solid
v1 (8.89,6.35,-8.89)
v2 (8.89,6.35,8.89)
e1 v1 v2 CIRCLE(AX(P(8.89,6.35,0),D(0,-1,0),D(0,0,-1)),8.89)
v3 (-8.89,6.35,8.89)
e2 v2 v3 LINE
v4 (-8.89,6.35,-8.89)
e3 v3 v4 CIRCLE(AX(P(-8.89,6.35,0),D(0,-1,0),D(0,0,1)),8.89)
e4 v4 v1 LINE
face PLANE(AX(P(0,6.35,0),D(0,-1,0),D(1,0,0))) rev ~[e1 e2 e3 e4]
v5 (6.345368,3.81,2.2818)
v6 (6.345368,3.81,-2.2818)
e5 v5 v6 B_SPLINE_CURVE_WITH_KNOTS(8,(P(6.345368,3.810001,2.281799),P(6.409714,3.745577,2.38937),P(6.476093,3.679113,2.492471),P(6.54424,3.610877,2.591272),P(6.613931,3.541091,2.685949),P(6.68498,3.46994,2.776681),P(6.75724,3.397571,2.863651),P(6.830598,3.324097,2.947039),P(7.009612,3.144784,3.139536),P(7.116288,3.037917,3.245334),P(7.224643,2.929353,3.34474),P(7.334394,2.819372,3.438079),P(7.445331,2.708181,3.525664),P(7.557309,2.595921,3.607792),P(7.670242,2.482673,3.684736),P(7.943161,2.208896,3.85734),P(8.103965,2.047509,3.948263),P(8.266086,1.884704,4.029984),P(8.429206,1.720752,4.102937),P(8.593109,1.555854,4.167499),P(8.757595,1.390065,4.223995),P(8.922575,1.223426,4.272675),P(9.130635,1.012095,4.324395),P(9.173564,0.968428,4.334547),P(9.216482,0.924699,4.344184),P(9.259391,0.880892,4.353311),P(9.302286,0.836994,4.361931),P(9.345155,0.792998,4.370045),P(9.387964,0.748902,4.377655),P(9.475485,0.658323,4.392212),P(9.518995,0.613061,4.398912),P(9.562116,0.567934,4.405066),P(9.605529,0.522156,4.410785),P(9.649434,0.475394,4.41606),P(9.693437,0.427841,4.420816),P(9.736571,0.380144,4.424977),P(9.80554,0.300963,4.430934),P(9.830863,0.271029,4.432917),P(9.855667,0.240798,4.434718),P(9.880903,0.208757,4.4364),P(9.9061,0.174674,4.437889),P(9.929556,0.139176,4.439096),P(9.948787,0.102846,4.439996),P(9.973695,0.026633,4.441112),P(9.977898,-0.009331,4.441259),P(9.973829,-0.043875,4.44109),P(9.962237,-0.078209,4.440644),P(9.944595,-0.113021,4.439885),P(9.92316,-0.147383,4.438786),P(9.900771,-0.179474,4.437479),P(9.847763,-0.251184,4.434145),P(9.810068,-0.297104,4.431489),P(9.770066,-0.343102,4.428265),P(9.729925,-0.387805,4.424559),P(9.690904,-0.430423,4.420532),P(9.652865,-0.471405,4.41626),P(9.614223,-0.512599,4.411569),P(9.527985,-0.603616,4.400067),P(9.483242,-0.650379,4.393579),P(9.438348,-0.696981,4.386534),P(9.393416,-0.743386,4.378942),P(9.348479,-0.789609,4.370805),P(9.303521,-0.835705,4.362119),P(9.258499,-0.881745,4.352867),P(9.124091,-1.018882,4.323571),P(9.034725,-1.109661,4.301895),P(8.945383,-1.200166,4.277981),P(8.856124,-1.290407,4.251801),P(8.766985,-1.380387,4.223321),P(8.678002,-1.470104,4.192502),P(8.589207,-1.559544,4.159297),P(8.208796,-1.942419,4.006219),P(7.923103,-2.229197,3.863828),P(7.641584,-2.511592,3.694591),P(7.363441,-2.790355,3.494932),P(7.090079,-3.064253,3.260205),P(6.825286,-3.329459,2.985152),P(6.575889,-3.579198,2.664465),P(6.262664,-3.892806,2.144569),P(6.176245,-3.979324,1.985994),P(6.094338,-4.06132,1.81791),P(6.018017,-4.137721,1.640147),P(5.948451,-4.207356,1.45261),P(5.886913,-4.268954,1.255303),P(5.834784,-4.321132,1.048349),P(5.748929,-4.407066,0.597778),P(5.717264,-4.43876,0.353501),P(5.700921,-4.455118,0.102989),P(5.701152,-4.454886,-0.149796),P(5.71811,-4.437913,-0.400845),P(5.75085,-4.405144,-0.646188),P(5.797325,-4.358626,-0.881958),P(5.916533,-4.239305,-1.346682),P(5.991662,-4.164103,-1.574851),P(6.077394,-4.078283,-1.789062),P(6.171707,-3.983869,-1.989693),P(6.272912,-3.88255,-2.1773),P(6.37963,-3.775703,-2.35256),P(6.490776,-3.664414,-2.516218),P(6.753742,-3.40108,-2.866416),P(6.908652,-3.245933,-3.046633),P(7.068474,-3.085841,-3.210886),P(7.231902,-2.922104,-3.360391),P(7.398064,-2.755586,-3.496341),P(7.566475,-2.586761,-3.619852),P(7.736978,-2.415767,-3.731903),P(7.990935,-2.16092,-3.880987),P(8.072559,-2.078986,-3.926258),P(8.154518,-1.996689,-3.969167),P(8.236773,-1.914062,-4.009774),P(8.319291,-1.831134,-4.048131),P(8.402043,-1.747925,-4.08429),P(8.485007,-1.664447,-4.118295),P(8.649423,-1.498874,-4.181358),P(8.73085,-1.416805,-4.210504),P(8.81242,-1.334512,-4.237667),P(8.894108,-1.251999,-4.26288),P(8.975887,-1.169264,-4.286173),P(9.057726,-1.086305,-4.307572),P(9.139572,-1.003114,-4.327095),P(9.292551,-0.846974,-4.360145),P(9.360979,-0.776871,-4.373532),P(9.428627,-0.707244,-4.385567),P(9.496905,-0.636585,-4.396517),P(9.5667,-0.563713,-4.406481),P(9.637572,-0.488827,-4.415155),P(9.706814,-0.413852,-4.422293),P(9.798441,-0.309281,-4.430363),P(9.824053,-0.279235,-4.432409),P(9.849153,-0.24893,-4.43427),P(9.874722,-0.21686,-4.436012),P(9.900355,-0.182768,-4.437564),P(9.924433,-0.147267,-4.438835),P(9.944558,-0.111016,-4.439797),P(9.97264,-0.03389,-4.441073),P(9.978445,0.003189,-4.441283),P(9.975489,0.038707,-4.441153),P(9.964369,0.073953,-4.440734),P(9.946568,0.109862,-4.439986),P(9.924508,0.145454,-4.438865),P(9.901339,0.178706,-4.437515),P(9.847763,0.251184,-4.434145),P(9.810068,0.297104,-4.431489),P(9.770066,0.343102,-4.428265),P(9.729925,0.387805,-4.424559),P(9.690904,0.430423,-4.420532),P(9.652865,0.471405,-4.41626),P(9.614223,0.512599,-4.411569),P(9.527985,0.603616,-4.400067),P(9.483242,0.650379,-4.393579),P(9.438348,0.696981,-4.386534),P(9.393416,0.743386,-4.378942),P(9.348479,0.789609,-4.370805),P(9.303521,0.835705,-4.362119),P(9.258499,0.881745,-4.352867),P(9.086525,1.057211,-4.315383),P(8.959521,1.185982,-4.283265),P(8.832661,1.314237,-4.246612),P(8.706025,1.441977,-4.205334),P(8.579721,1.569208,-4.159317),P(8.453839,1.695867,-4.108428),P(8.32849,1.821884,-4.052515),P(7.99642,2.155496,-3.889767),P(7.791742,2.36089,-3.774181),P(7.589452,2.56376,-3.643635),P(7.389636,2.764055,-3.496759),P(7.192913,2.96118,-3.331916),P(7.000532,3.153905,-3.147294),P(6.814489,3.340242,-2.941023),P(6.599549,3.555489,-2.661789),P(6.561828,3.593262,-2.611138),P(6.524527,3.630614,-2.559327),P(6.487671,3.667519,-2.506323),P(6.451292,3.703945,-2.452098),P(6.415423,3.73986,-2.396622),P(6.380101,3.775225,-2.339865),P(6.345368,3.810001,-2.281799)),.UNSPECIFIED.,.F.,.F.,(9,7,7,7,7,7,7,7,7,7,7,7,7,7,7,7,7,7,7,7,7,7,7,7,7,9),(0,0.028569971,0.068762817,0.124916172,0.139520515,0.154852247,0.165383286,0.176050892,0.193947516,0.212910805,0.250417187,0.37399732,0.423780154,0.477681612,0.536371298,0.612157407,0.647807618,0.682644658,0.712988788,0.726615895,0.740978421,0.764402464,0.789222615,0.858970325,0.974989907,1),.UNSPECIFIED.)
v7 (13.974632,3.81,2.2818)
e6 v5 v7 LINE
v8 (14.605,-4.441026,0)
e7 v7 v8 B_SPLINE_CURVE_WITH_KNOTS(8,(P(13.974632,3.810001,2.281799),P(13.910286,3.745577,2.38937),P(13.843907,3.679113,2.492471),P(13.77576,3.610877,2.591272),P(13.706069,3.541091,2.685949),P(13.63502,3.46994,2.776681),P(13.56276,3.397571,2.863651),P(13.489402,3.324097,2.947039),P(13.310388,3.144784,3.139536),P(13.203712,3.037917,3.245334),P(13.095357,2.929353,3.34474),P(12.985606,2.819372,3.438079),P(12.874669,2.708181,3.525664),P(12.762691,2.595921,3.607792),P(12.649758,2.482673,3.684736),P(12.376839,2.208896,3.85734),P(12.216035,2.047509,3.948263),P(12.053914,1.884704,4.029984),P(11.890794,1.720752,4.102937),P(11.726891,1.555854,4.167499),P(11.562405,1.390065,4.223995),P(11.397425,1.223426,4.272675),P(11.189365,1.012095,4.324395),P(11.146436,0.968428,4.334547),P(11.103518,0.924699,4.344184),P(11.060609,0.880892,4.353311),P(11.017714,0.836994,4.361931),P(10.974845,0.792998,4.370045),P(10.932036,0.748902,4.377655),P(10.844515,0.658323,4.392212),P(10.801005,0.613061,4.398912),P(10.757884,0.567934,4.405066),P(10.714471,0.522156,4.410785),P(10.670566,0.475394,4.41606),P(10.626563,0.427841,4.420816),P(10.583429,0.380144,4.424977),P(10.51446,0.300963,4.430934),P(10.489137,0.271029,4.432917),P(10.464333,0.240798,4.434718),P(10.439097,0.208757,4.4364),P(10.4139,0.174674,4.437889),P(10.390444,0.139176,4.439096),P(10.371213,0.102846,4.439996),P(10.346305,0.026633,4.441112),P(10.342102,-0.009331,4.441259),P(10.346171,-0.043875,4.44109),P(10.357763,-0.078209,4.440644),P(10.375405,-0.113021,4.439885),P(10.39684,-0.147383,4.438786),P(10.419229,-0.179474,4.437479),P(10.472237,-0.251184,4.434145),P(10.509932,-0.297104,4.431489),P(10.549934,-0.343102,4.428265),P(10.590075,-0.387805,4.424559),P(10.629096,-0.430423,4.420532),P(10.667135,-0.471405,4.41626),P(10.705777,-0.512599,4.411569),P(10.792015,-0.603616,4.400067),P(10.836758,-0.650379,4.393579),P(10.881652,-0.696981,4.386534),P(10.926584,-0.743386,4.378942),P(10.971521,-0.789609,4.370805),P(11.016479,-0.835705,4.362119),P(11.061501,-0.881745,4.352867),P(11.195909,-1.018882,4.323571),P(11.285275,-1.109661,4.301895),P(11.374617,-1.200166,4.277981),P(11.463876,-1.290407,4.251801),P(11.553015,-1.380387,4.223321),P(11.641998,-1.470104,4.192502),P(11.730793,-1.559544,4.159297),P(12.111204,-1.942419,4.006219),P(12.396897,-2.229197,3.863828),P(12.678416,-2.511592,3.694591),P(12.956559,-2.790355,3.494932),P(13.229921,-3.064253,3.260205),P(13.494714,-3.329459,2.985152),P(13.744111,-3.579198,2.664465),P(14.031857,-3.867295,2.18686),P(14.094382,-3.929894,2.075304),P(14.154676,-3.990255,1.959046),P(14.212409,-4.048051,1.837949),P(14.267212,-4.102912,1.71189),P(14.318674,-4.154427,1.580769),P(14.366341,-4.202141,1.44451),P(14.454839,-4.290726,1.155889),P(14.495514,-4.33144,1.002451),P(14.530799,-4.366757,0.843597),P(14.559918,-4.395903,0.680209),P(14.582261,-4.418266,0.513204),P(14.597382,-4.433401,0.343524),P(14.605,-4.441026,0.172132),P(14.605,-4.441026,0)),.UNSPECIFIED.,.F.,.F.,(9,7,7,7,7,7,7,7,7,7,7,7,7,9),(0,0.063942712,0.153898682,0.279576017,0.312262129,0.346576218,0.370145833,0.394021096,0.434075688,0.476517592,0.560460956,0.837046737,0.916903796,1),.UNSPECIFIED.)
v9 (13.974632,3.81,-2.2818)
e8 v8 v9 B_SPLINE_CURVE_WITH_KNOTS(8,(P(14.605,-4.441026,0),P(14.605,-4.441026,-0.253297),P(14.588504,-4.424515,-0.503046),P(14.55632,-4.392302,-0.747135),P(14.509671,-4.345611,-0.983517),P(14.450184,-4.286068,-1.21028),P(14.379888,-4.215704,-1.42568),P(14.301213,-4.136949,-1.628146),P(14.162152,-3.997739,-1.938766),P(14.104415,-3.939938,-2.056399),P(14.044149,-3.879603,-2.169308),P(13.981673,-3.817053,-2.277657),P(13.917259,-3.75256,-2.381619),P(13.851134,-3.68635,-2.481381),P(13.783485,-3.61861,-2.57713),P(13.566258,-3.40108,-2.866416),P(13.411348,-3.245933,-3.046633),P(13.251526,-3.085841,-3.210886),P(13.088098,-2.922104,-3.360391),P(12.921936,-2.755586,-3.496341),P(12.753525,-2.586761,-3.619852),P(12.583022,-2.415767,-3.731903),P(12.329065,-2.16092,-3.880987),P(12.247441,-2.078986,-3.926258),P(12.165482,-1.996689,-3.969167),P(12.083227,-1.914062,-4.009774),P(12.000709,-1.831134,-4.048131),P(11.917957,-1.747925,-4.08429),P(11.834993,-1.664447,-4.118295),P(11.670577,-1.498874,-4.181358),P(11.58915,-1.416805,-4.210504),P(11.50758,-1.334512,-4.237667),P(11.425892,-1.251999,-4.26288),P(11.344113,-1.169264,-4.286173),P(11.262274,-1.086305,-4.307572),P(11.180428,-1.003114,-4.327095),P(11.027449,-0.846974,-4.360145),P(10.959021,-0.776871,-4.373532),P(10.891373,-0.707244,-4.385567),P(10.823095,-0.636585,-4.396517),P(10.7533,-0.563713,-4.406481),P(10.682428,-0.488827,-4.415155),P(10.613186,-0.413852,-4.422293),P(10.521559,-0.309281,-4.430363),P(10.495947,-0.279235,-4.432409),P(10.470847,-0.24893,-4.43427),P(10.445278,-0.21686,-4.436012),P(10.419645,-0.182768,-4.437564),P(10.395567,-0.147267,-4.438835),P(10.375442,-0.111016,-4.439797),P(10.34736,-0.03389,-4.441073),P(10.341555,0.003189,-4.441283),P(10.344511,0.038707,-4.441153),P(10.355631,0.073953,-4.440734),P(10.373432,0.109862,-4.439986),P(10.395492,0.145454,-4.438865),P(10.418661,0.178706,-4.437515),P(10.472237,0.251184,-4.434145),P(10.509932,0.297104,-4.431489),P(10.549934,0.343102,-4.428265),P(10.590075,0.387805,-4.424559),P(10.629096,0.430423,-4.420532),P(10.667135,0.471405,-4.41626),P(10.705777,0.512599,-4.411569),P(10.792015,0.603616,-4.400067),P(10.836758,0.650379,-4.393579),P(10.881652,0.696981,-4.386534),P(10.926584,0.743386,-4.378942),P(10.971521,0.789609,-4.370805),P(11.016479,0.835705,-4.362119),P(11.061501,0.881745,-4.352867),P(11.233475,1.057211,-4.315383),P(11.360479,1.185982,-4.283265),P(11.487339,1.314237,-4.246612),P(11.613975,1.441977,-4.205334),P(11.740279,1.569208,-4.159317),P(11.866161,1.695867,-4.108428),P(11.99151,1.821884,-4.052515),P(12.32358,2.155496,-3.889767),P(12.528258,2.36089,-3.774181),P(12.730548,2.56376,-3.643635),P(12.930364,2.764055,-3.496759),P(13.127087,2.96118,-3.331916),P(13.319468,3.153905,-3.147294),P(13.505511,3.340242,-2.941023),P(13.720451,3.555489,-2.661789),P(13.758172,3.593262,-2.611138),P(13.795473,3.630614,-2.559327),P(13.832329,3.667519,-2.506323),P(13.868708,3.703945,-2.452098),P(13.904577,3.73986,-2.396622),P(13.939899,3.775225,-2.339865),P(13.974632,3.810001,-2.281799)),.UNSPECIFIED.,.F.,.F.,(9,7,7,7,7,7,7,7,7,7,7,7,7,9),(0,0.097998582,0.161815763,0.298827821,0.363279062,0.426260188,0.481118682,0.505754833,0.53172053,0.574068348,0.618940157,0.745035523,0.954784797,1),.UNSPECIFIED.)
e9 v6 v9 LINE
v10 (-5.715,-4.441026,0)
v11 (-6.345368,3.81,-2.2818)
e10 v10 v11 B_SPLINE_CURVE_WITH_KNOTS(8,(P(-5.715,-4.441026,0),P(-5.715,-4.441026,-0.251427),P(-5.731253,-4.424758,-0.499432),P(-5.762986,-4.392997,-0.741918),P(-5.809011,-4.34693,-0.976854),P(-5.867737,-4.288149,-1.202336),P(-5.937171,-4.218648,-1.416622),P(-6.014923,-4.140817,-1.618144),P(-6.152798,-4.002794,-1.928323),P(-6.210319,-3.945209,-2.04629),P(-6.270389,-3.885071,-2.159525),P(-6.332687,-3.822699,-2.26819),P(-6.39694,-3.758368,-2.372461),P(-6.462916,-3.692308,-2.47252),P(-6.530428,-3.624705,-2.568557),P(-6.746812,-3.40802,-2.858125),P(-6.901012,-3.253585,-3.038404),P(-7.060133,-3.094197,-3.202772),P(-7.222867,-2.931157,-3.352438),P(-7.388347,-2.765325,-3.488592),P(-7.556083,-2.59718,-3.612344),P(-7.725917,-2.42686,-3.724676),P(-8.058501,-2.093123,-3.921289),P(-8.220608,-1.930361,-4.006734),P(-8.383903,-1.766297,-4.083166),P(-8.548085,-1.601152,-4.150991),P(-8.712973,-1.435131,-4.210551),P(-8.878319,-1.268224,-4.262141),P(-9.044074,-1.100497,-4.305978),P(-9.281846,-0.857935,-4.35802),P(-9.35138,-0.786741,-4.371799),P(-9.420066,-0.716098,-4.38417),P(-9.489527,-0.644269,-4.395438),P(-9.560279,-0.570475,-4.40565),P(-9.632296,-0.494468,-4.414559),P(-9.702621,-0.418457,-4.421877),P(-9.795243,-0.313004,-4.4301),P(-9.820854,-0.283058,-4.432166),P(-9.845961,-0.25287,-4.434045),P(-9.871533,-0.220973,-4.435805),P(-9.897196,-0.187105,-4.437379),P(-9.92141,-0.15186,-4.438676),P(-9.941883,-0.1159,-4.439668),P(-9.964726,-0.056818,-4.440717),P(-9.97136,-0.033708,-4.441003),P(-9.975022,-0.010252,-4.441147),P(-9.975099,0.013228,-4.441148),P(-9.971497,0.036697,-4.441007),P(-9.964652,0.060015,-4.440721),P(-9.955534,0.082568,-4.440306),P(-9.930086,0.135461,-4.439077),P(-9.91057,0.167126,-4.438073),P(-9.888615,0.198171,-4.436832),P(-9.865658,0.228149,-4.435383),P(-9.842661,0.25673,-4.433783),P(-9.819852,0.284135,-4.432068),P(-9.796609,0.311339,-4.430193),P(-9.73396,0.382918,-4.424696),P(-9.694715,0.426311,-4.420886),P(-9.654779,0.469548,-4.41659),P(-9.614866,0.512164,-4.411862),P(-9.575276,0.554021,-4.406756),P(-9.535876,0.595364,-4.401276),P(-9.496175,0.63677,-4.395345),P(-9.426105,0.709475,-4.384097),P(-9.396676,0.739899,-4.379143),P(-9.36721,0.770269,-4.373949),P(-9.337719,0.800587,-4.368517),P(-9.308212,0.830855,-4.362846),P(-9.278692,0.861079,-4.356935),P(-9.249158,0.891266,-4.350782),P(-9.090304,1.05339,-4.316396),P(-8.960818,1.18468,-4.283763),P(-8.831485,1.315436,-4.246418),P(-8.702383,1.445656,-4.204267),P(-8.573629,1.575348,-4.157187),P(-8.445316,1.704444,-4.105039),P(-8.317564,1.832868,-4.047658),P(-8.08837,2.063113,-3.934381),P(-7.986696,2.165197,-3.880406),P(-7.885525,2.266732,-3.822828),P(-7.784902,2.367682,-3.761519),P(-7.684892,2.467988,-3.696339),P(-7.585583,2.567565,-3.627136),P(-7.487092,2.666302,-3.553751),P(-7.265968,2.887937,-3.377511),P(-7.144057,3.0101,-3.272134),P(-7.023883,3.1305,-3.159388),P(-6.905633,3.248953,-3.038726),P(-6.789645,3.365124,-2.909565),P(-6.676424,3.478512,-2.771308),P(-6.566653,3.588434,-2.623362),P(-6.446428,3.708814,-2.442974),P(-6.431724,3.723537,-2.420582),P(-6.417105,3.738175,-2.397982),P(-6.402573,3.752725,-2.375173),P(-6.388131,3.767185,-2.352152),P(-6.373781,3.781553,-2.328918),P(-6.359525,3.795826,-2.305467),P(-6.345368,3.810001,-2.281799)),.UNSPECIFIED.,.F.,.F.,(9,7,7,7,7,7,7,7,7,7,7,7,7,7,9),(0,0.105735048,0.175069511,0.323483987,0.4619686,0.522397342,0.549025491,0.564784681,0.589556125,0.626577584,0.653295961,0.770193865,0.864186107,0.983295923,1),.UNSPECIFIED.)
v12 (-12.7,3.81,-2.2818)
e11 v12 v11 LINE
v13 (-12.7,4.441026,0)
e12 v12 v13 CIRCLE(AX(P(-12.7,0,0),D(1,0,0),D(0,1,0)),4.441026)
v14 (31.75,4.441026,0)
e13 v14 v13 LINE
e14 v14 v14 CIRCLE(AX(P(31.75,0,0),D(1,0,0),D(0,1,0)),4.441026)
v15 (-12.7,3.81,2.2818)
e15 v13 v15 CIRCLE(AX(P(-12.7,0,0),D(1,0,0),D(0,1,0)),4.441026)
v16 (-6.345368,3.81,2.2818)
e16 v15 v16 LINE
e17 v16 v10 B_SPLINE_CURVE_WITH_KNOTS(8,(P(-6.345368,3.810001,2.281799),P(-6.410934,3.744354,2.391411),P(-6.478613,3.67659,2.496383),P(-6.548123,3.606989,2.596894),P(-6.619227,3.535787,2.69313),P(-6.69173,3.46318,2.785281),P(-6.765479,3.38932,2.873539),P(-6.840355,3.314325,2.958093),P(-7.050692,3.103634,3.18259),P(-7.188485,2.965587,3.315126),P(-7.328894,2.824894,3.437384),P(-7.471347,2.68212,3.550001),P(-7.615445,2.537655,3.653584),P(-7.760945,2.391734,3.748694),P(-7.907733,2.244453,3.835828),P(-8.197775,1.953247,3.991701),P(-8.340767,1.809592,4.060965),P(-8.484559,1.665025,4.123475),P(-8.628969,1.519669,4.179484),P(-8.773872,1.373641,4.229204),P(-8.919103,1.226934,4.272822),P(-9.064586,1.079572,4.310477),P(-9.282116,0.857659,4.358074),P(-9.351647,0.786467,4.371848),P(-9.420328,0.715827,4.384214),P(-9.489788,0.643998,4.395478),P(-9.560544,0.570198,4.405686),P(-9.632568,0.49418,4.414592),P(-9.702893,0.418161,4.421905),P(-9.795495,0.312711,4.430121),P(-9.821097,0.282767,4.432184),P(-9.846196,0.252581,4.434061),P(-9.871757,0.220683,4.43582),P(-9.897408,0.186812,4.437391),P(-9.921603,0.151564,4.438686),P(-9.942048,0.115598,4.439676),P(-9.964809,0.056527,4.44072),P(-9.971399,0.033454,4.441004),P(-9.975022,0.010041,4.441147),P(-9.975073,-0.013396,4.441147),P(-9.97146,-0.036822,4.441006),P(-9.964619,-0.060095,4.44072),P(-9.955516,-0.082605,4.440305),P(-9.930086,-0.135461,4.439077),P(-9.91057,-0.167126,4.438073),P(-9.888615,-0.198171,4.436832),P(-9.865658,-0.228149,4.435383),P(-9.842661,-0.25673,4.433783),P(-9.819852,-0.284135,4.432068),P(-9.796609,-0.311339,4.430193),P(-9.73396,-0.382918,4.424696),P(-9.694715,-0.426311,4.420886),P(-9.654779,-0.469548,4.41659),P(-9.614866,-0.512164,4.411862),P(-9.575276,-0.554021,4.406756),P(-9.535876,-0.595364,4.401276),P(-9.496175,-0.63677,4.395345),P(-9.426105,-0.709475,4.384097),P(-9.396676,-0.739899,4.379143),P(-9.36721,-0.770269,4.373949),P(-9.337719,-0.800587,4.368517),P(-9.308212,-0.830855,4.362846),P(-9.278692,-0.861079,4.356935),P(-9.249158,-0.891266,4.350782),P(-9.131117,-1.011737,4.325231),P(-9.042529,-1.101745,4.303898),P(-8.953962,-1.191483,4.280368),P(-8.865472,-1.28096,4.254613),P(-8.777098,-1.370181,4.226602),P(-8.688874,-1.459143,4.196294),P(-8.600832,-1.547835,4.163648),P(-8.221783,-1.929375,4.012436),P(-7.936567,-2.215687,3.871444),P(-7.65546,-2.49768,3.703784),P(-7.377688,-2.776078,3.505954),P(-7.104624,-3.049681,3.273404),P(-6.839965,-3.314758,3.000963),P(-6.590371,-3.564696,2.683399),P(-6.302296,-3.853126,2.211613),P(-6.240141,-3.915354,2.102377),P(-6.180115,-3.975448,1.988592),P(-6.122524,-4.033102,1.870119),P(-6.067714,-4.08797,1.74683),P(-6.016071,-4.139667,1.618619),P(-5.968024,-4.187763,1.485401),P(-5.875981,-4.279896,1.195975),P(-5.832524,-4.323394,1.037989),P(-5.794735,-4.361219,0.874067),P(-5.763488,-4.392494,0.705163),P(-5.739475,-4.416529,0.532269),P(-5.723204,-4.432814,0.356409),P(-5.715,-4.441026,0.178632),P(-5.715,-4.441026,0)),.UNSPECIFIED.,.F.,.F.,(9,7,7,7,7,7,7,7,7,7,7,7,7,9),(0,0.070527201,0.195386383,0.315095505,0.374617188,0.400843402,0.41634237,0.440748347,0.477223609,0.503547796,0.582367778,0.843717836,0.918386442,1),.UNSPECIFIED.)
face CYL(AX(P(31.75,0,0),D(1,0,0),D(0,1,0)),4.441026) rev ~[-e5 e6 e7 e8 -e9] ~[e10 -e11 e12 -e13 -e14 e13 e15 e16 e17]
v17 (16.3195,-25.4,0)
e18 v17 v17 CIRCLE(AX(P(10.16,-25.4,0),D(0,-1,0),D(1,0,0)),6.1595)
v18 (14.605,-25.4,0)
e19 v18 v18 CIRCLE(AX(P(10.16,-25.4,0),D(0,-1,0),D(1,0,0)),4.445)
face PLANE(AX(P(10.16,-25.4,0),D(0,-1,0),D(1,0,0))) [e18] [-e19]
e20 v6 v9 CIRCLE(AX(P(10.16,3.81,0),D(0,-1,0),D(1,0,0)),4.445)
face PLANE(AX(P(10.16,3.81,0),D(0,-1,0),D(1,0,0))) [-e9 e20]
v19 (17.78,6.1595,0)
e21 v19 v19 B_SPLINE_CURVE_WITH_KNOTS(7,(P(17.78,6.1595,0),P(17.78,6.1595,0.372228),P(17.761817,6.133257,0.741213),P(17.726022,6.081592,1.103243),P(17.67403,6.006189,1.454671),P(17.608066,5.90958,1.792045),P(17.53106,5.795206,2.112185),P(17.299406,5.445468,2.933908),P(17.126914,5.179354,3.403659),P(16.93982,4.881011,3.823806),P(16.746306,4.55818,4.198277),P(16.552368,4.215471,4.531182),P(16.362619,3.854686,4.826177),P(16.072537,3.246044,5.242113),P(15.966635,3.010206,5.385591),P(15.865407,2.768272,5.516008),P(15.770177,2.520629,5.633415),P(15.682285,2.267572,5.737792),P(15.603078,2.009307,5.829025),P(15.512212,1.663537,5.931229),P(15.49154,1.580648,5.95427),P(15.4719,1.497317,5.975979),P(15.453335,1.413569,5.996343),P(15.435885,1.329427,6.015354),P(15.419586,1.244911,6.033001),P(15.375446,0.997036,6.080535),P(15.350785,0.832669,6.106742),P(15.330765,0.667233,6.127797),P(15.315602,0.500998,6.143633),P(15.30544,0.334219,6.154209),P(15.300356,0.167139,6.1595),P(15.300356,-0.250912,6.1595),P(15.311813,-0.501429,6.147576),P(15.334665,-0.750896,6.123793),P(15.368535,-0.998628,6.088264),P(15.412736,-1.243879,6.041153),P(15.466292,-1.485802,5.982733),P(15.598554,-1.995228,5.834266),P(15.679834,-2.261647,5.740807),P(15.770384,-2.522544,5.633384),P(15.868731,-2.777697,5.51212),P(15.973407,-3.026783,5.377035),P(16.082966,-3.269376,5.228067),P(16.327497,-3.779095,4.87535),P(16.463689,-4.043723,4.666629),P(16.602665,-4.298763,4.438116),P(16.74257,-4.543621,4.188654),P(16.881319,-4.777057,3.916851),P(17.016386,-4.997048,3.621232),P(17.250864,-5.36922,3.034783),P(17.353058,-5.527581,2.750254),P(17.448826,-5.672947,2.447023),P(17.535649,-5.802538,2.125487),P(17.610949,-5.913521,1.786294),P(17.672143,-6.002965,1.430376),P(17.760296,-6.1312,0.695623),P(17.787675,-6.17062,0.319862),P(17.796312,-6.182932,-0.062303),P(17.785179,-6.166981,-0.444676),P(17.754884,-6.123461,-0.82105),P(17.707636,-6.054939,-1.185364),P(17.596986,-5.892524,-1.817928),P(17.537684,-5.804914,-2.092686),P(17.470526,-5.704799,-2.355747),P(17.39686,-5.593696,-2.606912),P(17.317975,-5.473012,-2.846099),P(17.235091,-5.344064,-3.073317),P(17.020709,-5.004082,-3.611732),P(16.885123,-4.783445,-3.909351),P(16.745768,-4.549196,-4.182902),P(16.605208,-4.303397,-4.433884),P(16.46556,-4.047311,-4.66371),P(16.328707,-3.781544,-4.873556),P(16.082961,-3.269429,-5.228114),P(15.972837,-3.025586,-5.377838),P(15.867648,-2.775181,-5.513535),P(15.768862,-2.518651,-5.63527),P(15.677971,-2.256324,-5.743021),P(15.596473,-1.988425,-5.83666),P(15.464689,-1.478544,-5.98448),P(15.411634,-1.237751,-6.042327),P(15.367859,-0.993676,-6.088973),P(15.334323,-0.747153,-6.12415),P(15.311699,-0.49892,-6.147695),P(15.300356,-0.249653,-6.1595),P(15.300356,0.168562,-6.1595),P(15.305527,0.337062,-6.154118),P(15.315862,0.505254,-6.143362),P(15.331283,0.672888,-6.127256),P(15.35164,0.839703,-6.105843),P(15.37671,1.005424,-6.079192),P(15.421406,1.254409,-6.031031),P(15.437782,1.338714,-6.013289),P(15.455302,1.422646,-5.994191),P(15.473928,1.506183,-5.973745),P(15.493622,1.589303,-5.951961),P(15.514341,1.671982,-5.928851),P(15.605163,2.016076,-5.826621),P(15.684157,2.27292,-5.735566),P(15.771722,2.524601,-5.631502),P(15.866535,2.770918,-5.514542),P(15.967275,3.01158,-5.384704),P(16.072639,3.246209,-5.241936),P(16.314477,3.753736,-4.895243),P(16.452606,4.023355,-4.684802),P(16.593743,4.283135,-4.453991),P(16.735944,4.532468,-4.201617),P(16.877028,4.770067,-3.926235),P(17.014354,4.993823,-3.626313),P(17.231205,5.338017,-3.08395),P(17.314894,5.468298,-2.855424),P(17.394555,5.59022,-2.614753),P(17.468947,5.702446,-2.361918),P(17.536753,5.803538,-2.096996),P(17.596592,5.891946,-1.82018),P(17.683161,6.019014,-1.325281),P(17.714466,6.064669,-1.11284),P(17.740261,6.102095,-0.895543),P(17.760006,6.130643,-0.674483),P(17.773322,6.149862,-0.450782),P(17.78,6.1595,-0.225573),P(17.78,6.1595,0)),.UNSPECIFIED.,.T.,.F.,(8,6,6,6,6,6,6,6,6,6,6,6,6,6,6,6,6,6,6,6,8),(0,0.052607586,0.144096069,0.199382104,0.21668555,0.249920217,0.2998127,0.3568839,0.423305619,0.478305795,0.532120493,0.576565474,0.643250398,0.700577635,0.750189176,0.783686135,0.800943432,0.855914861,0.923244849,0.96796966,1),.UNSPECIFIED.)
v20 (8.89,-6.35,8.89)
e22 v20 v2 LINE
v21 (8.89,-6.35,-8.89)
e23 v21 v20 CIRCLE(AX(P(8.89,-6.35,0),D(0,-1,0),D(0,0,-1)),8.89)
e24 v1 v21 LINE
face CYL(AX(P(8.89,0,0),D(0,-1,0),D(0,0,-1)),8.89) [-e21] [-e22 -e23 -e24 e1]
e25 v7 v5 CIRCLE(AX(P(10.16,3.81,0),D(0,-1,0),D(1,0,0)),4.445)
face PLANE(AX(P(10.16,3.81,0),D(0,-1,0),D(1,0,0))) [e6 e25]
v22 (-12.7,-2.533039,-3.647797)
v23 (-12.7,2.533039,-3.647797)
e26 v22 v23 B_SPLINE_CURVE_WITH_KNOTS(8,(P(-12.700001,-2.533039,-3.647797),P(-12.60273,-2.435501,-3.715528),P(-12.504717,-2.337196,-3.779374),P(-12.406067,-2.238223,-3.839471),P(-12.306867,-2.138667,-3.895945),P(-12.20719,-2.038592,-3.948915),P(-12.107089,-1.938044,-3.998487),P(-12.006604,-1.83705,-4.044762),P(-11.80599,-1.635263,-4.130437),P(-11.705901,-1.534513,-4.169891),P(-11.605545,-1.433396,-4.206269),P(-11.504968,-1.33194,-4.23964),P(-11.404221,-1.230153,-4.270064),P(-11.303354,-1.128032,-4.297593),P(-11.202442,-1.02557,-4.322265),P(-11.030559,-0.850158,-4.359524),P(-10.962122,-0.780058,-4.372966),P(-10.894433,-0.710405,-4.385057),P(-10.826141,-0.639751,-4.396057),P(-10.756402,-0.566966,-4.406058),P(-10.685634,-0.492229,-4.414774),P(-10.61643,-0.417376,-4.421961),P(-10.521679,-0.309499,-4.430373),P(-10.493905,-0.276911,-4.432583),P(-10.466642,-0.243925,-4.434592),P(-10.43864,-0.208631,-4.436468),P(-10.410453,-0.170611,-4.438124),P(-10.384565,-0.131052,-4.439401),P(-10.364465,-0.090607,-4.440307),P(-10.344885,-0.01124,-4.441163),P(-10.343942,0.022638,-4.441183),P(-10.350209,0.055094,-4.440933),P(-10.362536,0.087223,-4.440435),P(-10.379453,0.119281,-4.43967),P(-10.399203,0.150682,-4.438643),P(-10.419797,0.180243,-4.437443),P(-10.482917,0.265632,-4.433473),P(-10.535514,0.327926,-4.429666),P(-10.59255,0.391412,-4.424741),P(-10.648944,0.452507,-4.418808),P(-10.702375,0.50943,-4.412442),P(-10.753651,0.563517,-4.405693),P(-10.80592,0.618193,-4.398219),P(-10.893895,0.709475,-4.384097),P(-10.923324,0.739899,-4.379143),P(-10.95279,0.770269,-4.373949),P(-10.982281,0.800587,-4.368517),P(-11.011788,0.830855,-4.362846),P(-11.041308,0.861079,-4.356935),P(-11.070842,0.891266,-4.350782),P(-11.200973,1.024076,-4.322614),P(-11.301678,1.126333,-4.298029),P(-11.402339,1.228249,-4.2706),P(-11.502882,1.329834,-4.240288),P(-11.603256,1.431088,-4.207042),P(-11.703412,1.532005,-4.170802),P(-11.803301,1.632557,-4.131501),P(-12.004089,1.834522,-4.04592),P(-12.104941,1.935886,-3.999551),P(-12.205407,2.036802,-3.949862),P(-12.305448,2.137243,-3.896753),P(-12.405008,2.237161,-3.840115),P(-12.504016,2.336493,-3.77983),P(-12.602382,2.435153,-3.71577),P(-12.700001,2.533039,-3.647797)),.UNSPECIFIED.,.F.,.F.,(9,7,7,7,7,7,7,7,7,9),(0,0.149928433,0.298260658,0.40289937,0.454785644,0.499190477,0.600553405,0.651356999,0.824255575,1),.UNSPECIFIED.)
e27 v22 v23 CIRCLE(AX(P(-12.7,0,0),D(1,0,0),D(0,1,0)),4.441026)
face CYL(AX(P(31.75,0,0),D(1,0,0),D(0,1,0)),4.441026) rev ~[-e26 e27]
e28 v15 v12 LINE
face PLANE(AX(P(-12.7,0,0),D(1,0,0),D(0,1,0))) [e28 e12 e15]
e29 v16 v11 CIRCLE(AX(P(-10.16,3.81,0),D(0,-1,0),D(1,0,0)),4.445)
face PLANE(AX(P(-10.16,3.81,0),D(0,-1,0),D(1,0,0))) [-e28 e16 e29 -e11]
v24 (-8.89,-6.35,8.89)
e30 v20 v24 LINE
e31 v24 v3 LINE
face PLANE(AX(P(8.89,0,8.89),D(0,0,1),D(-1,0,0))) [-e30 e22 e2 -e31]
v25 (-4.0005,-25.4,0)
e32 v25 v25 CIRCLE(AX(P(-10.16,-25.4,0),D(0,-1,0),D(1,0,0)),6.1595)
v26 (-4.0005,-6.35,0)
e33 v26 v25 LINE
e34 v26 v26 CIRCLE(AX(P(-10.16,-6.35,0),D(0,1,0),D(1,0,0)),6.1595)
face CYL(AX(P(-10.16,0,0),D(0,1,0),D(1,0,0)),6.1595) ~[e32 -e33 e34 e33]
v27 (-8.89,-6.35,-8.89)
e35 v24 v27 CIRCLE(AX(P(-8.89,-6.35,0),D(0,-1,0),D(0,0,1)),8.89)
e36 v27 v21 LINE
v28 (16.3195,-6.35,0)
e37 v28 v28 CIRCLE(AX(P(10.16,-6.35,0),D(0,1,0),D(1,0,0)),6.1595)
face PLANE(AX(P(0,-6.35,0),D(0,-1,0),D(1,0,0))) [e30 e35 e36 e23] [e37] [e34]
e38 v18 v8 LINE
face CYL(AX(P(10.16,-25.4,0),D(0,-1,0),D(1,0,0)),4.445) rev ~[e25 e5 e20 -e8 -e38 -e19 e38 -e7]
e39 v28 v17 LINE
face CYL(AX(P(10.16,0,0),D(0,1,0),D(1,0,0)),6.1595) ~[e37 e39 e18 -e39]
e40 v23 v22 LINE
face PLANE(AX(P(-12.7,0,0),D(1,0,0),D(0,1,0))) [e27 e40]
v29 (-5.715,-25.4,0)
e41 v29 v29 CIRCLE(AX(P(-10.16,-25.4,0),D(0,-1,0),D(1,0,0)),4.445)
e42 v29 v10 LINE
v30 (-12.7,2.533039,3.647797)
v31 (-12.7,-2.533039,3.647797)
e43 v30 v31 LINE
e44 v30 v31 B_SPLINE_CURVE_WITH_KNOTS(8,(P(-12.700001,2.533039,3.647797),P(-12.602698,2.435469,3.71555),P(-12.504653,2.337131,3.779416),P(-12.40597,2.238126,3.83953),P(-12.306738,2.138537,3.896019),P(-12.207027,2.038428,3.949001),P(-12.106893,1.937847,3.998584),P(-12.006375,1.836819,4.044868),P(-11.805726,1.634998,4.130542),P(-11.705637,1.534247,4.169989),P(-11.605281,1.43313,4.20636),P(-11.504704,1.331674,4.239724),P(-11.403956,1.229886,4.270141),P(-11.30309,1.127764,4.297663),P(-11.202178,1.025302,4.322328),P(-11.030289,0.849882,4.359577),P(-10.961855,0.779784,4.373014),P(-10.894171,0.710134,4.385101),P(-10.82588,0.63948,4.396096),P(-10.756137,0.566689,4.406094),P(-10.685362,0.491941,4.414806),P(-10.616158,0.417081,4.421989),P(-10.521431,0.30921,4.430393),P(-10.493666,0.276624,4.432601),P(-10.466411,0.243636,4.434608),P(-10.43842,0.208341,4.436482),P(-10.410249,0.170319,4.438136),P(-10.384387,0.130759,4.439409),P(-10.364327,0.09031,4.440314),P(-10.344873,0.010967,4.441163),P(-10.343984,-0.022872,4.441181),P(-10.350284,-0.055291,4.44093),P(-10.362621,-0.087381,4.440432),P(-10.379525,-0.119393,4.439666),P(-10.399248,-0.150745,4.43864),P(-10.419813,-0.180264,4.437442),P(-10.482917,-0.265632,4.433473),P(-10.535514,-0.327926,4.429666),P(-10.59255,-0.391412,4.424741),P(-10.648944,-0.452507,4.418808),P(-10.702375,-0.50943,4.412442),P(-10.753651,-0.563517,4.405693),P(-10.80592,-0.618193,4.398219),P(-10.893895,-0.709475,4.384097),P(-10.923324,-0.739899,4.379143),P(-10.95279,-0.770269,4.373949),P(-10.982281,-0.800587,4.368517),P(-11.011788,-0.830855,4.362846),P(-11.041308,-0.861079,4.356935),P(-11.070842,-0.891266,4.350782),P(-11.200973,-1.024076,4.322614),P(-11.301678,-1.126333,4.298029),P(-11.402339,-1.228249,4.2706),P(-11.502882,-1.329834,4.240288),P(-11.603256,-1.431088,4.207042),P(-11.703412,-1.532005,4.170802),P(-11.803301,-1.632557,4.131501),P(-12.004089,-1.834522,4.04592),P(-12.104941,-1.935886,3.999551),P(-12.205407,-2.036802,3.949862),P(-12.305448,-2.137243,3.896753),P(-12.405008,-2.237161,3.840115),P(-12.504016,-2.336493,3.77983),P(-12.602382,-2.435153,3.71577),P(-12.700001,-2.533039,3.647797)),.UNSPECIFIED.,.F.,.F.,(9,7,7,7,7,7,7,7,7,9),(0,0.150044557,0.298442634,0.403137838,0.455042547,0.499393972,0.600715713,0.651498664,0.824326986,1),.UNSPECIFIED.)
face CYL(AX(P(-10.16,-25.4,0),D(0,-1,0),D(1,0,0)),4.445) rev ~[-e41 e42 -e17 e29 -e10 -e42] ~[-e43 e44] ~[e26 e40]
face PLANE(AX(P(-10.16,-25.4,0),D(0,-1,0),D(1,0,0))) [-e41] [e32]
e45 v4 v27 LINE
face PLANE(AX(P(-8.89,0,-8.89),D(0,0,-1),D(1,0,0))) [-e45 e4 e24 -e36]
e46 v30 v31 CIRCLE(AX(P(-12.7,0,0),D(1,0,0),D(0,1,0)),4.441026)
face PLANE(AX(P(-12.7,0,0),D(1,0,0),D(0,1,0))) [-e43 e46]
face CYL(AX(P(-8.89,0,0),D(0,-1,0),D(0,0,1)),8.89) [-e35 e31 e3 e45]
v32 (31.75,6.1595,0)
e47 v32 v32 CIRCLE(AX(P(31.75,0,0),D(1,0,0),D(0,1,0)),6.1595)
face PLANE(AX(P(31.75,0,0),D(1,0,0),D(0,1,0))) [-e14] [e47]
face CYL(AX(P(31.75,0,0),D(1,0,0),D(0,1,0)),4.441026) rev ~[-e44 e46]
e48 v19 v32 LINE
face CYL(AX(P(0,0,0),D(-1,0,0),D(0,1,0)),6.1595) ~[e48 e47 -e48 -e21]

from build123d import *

# Parameters (mm, degrees)
F0_R     = 6.1595
F1_DEPTH = 25.4
F3_DEPTH = 6.35
F4_R     = 6.1595
F5_DEPTH = 31.75
F6_R     = 4.441025895
F7_DEPTH = 44.45
F8_R     = 4.445
F9_DEPTH = 29.21


with BuildPart() as f1:
    # F0 (on Front) → F1 (new body)
    with BuildSketch(Plane.XZ):
        with Locations((10.16, 0)):
            Circle(F0_R)
    extrude(amount=F1_DEPTH)



with BuildPart() as f1b:
    # F0 (on Front) → F1, piece 2 (new body)
    with BuildSketch(Plane.XZ):
        with Locations((-10.16, 0)):
            Circle(F0_R)
    extrude(amount=F1_DEPTH)


with BuildPart() as f1_1:
    add(f1.part)

    add(f1b.part)  # F3 merges F1b
    # F2 (on Front) → F3 (join, symmetric)
    with BuildSketch(Plane.XZ):
        with BuildLine():
            ThreePointArc((-8.89, 8.89), (-17.78, 0), (-8.89, -8.89))
            Line((-8.89, -8.89), (8.89, -8.89))
            ThreePointArc((8.89, -8.89), (17.78, 0), (8.89, 8.89))
            Line((8.89, 8.89), (-8.89, 8.89))
        make_face()
    extrude(amount=F3_DEPTH, both=True)

    # F4 (on Right) → F5 (join)
    with BuildSketch(Plane.YZ):
        Circle(F4_R)
    extrude(amount=F5_DEPTH)

    # F6 (on face) → F7 (cut)
    with BuildSketch(Plane.YZ.offset(31.75)):
        Circle(F6_R)
    extrude(amount=-F7_DEPTH, mode=Mode.SUBTRACT)

    # F8 (on face) → F9 (cut)
    with BuildSketch(Plane.XZ.offset(25.4)):
        with Locations((-10.16, 0)):
            Circle(F8_R)
        with Locations((10.16, 0)):
            Circle(F8_R)
    extrude(amount=-F9_DEPTH, mode=Mode.SUBTRACT)


solid = f1_1.part
